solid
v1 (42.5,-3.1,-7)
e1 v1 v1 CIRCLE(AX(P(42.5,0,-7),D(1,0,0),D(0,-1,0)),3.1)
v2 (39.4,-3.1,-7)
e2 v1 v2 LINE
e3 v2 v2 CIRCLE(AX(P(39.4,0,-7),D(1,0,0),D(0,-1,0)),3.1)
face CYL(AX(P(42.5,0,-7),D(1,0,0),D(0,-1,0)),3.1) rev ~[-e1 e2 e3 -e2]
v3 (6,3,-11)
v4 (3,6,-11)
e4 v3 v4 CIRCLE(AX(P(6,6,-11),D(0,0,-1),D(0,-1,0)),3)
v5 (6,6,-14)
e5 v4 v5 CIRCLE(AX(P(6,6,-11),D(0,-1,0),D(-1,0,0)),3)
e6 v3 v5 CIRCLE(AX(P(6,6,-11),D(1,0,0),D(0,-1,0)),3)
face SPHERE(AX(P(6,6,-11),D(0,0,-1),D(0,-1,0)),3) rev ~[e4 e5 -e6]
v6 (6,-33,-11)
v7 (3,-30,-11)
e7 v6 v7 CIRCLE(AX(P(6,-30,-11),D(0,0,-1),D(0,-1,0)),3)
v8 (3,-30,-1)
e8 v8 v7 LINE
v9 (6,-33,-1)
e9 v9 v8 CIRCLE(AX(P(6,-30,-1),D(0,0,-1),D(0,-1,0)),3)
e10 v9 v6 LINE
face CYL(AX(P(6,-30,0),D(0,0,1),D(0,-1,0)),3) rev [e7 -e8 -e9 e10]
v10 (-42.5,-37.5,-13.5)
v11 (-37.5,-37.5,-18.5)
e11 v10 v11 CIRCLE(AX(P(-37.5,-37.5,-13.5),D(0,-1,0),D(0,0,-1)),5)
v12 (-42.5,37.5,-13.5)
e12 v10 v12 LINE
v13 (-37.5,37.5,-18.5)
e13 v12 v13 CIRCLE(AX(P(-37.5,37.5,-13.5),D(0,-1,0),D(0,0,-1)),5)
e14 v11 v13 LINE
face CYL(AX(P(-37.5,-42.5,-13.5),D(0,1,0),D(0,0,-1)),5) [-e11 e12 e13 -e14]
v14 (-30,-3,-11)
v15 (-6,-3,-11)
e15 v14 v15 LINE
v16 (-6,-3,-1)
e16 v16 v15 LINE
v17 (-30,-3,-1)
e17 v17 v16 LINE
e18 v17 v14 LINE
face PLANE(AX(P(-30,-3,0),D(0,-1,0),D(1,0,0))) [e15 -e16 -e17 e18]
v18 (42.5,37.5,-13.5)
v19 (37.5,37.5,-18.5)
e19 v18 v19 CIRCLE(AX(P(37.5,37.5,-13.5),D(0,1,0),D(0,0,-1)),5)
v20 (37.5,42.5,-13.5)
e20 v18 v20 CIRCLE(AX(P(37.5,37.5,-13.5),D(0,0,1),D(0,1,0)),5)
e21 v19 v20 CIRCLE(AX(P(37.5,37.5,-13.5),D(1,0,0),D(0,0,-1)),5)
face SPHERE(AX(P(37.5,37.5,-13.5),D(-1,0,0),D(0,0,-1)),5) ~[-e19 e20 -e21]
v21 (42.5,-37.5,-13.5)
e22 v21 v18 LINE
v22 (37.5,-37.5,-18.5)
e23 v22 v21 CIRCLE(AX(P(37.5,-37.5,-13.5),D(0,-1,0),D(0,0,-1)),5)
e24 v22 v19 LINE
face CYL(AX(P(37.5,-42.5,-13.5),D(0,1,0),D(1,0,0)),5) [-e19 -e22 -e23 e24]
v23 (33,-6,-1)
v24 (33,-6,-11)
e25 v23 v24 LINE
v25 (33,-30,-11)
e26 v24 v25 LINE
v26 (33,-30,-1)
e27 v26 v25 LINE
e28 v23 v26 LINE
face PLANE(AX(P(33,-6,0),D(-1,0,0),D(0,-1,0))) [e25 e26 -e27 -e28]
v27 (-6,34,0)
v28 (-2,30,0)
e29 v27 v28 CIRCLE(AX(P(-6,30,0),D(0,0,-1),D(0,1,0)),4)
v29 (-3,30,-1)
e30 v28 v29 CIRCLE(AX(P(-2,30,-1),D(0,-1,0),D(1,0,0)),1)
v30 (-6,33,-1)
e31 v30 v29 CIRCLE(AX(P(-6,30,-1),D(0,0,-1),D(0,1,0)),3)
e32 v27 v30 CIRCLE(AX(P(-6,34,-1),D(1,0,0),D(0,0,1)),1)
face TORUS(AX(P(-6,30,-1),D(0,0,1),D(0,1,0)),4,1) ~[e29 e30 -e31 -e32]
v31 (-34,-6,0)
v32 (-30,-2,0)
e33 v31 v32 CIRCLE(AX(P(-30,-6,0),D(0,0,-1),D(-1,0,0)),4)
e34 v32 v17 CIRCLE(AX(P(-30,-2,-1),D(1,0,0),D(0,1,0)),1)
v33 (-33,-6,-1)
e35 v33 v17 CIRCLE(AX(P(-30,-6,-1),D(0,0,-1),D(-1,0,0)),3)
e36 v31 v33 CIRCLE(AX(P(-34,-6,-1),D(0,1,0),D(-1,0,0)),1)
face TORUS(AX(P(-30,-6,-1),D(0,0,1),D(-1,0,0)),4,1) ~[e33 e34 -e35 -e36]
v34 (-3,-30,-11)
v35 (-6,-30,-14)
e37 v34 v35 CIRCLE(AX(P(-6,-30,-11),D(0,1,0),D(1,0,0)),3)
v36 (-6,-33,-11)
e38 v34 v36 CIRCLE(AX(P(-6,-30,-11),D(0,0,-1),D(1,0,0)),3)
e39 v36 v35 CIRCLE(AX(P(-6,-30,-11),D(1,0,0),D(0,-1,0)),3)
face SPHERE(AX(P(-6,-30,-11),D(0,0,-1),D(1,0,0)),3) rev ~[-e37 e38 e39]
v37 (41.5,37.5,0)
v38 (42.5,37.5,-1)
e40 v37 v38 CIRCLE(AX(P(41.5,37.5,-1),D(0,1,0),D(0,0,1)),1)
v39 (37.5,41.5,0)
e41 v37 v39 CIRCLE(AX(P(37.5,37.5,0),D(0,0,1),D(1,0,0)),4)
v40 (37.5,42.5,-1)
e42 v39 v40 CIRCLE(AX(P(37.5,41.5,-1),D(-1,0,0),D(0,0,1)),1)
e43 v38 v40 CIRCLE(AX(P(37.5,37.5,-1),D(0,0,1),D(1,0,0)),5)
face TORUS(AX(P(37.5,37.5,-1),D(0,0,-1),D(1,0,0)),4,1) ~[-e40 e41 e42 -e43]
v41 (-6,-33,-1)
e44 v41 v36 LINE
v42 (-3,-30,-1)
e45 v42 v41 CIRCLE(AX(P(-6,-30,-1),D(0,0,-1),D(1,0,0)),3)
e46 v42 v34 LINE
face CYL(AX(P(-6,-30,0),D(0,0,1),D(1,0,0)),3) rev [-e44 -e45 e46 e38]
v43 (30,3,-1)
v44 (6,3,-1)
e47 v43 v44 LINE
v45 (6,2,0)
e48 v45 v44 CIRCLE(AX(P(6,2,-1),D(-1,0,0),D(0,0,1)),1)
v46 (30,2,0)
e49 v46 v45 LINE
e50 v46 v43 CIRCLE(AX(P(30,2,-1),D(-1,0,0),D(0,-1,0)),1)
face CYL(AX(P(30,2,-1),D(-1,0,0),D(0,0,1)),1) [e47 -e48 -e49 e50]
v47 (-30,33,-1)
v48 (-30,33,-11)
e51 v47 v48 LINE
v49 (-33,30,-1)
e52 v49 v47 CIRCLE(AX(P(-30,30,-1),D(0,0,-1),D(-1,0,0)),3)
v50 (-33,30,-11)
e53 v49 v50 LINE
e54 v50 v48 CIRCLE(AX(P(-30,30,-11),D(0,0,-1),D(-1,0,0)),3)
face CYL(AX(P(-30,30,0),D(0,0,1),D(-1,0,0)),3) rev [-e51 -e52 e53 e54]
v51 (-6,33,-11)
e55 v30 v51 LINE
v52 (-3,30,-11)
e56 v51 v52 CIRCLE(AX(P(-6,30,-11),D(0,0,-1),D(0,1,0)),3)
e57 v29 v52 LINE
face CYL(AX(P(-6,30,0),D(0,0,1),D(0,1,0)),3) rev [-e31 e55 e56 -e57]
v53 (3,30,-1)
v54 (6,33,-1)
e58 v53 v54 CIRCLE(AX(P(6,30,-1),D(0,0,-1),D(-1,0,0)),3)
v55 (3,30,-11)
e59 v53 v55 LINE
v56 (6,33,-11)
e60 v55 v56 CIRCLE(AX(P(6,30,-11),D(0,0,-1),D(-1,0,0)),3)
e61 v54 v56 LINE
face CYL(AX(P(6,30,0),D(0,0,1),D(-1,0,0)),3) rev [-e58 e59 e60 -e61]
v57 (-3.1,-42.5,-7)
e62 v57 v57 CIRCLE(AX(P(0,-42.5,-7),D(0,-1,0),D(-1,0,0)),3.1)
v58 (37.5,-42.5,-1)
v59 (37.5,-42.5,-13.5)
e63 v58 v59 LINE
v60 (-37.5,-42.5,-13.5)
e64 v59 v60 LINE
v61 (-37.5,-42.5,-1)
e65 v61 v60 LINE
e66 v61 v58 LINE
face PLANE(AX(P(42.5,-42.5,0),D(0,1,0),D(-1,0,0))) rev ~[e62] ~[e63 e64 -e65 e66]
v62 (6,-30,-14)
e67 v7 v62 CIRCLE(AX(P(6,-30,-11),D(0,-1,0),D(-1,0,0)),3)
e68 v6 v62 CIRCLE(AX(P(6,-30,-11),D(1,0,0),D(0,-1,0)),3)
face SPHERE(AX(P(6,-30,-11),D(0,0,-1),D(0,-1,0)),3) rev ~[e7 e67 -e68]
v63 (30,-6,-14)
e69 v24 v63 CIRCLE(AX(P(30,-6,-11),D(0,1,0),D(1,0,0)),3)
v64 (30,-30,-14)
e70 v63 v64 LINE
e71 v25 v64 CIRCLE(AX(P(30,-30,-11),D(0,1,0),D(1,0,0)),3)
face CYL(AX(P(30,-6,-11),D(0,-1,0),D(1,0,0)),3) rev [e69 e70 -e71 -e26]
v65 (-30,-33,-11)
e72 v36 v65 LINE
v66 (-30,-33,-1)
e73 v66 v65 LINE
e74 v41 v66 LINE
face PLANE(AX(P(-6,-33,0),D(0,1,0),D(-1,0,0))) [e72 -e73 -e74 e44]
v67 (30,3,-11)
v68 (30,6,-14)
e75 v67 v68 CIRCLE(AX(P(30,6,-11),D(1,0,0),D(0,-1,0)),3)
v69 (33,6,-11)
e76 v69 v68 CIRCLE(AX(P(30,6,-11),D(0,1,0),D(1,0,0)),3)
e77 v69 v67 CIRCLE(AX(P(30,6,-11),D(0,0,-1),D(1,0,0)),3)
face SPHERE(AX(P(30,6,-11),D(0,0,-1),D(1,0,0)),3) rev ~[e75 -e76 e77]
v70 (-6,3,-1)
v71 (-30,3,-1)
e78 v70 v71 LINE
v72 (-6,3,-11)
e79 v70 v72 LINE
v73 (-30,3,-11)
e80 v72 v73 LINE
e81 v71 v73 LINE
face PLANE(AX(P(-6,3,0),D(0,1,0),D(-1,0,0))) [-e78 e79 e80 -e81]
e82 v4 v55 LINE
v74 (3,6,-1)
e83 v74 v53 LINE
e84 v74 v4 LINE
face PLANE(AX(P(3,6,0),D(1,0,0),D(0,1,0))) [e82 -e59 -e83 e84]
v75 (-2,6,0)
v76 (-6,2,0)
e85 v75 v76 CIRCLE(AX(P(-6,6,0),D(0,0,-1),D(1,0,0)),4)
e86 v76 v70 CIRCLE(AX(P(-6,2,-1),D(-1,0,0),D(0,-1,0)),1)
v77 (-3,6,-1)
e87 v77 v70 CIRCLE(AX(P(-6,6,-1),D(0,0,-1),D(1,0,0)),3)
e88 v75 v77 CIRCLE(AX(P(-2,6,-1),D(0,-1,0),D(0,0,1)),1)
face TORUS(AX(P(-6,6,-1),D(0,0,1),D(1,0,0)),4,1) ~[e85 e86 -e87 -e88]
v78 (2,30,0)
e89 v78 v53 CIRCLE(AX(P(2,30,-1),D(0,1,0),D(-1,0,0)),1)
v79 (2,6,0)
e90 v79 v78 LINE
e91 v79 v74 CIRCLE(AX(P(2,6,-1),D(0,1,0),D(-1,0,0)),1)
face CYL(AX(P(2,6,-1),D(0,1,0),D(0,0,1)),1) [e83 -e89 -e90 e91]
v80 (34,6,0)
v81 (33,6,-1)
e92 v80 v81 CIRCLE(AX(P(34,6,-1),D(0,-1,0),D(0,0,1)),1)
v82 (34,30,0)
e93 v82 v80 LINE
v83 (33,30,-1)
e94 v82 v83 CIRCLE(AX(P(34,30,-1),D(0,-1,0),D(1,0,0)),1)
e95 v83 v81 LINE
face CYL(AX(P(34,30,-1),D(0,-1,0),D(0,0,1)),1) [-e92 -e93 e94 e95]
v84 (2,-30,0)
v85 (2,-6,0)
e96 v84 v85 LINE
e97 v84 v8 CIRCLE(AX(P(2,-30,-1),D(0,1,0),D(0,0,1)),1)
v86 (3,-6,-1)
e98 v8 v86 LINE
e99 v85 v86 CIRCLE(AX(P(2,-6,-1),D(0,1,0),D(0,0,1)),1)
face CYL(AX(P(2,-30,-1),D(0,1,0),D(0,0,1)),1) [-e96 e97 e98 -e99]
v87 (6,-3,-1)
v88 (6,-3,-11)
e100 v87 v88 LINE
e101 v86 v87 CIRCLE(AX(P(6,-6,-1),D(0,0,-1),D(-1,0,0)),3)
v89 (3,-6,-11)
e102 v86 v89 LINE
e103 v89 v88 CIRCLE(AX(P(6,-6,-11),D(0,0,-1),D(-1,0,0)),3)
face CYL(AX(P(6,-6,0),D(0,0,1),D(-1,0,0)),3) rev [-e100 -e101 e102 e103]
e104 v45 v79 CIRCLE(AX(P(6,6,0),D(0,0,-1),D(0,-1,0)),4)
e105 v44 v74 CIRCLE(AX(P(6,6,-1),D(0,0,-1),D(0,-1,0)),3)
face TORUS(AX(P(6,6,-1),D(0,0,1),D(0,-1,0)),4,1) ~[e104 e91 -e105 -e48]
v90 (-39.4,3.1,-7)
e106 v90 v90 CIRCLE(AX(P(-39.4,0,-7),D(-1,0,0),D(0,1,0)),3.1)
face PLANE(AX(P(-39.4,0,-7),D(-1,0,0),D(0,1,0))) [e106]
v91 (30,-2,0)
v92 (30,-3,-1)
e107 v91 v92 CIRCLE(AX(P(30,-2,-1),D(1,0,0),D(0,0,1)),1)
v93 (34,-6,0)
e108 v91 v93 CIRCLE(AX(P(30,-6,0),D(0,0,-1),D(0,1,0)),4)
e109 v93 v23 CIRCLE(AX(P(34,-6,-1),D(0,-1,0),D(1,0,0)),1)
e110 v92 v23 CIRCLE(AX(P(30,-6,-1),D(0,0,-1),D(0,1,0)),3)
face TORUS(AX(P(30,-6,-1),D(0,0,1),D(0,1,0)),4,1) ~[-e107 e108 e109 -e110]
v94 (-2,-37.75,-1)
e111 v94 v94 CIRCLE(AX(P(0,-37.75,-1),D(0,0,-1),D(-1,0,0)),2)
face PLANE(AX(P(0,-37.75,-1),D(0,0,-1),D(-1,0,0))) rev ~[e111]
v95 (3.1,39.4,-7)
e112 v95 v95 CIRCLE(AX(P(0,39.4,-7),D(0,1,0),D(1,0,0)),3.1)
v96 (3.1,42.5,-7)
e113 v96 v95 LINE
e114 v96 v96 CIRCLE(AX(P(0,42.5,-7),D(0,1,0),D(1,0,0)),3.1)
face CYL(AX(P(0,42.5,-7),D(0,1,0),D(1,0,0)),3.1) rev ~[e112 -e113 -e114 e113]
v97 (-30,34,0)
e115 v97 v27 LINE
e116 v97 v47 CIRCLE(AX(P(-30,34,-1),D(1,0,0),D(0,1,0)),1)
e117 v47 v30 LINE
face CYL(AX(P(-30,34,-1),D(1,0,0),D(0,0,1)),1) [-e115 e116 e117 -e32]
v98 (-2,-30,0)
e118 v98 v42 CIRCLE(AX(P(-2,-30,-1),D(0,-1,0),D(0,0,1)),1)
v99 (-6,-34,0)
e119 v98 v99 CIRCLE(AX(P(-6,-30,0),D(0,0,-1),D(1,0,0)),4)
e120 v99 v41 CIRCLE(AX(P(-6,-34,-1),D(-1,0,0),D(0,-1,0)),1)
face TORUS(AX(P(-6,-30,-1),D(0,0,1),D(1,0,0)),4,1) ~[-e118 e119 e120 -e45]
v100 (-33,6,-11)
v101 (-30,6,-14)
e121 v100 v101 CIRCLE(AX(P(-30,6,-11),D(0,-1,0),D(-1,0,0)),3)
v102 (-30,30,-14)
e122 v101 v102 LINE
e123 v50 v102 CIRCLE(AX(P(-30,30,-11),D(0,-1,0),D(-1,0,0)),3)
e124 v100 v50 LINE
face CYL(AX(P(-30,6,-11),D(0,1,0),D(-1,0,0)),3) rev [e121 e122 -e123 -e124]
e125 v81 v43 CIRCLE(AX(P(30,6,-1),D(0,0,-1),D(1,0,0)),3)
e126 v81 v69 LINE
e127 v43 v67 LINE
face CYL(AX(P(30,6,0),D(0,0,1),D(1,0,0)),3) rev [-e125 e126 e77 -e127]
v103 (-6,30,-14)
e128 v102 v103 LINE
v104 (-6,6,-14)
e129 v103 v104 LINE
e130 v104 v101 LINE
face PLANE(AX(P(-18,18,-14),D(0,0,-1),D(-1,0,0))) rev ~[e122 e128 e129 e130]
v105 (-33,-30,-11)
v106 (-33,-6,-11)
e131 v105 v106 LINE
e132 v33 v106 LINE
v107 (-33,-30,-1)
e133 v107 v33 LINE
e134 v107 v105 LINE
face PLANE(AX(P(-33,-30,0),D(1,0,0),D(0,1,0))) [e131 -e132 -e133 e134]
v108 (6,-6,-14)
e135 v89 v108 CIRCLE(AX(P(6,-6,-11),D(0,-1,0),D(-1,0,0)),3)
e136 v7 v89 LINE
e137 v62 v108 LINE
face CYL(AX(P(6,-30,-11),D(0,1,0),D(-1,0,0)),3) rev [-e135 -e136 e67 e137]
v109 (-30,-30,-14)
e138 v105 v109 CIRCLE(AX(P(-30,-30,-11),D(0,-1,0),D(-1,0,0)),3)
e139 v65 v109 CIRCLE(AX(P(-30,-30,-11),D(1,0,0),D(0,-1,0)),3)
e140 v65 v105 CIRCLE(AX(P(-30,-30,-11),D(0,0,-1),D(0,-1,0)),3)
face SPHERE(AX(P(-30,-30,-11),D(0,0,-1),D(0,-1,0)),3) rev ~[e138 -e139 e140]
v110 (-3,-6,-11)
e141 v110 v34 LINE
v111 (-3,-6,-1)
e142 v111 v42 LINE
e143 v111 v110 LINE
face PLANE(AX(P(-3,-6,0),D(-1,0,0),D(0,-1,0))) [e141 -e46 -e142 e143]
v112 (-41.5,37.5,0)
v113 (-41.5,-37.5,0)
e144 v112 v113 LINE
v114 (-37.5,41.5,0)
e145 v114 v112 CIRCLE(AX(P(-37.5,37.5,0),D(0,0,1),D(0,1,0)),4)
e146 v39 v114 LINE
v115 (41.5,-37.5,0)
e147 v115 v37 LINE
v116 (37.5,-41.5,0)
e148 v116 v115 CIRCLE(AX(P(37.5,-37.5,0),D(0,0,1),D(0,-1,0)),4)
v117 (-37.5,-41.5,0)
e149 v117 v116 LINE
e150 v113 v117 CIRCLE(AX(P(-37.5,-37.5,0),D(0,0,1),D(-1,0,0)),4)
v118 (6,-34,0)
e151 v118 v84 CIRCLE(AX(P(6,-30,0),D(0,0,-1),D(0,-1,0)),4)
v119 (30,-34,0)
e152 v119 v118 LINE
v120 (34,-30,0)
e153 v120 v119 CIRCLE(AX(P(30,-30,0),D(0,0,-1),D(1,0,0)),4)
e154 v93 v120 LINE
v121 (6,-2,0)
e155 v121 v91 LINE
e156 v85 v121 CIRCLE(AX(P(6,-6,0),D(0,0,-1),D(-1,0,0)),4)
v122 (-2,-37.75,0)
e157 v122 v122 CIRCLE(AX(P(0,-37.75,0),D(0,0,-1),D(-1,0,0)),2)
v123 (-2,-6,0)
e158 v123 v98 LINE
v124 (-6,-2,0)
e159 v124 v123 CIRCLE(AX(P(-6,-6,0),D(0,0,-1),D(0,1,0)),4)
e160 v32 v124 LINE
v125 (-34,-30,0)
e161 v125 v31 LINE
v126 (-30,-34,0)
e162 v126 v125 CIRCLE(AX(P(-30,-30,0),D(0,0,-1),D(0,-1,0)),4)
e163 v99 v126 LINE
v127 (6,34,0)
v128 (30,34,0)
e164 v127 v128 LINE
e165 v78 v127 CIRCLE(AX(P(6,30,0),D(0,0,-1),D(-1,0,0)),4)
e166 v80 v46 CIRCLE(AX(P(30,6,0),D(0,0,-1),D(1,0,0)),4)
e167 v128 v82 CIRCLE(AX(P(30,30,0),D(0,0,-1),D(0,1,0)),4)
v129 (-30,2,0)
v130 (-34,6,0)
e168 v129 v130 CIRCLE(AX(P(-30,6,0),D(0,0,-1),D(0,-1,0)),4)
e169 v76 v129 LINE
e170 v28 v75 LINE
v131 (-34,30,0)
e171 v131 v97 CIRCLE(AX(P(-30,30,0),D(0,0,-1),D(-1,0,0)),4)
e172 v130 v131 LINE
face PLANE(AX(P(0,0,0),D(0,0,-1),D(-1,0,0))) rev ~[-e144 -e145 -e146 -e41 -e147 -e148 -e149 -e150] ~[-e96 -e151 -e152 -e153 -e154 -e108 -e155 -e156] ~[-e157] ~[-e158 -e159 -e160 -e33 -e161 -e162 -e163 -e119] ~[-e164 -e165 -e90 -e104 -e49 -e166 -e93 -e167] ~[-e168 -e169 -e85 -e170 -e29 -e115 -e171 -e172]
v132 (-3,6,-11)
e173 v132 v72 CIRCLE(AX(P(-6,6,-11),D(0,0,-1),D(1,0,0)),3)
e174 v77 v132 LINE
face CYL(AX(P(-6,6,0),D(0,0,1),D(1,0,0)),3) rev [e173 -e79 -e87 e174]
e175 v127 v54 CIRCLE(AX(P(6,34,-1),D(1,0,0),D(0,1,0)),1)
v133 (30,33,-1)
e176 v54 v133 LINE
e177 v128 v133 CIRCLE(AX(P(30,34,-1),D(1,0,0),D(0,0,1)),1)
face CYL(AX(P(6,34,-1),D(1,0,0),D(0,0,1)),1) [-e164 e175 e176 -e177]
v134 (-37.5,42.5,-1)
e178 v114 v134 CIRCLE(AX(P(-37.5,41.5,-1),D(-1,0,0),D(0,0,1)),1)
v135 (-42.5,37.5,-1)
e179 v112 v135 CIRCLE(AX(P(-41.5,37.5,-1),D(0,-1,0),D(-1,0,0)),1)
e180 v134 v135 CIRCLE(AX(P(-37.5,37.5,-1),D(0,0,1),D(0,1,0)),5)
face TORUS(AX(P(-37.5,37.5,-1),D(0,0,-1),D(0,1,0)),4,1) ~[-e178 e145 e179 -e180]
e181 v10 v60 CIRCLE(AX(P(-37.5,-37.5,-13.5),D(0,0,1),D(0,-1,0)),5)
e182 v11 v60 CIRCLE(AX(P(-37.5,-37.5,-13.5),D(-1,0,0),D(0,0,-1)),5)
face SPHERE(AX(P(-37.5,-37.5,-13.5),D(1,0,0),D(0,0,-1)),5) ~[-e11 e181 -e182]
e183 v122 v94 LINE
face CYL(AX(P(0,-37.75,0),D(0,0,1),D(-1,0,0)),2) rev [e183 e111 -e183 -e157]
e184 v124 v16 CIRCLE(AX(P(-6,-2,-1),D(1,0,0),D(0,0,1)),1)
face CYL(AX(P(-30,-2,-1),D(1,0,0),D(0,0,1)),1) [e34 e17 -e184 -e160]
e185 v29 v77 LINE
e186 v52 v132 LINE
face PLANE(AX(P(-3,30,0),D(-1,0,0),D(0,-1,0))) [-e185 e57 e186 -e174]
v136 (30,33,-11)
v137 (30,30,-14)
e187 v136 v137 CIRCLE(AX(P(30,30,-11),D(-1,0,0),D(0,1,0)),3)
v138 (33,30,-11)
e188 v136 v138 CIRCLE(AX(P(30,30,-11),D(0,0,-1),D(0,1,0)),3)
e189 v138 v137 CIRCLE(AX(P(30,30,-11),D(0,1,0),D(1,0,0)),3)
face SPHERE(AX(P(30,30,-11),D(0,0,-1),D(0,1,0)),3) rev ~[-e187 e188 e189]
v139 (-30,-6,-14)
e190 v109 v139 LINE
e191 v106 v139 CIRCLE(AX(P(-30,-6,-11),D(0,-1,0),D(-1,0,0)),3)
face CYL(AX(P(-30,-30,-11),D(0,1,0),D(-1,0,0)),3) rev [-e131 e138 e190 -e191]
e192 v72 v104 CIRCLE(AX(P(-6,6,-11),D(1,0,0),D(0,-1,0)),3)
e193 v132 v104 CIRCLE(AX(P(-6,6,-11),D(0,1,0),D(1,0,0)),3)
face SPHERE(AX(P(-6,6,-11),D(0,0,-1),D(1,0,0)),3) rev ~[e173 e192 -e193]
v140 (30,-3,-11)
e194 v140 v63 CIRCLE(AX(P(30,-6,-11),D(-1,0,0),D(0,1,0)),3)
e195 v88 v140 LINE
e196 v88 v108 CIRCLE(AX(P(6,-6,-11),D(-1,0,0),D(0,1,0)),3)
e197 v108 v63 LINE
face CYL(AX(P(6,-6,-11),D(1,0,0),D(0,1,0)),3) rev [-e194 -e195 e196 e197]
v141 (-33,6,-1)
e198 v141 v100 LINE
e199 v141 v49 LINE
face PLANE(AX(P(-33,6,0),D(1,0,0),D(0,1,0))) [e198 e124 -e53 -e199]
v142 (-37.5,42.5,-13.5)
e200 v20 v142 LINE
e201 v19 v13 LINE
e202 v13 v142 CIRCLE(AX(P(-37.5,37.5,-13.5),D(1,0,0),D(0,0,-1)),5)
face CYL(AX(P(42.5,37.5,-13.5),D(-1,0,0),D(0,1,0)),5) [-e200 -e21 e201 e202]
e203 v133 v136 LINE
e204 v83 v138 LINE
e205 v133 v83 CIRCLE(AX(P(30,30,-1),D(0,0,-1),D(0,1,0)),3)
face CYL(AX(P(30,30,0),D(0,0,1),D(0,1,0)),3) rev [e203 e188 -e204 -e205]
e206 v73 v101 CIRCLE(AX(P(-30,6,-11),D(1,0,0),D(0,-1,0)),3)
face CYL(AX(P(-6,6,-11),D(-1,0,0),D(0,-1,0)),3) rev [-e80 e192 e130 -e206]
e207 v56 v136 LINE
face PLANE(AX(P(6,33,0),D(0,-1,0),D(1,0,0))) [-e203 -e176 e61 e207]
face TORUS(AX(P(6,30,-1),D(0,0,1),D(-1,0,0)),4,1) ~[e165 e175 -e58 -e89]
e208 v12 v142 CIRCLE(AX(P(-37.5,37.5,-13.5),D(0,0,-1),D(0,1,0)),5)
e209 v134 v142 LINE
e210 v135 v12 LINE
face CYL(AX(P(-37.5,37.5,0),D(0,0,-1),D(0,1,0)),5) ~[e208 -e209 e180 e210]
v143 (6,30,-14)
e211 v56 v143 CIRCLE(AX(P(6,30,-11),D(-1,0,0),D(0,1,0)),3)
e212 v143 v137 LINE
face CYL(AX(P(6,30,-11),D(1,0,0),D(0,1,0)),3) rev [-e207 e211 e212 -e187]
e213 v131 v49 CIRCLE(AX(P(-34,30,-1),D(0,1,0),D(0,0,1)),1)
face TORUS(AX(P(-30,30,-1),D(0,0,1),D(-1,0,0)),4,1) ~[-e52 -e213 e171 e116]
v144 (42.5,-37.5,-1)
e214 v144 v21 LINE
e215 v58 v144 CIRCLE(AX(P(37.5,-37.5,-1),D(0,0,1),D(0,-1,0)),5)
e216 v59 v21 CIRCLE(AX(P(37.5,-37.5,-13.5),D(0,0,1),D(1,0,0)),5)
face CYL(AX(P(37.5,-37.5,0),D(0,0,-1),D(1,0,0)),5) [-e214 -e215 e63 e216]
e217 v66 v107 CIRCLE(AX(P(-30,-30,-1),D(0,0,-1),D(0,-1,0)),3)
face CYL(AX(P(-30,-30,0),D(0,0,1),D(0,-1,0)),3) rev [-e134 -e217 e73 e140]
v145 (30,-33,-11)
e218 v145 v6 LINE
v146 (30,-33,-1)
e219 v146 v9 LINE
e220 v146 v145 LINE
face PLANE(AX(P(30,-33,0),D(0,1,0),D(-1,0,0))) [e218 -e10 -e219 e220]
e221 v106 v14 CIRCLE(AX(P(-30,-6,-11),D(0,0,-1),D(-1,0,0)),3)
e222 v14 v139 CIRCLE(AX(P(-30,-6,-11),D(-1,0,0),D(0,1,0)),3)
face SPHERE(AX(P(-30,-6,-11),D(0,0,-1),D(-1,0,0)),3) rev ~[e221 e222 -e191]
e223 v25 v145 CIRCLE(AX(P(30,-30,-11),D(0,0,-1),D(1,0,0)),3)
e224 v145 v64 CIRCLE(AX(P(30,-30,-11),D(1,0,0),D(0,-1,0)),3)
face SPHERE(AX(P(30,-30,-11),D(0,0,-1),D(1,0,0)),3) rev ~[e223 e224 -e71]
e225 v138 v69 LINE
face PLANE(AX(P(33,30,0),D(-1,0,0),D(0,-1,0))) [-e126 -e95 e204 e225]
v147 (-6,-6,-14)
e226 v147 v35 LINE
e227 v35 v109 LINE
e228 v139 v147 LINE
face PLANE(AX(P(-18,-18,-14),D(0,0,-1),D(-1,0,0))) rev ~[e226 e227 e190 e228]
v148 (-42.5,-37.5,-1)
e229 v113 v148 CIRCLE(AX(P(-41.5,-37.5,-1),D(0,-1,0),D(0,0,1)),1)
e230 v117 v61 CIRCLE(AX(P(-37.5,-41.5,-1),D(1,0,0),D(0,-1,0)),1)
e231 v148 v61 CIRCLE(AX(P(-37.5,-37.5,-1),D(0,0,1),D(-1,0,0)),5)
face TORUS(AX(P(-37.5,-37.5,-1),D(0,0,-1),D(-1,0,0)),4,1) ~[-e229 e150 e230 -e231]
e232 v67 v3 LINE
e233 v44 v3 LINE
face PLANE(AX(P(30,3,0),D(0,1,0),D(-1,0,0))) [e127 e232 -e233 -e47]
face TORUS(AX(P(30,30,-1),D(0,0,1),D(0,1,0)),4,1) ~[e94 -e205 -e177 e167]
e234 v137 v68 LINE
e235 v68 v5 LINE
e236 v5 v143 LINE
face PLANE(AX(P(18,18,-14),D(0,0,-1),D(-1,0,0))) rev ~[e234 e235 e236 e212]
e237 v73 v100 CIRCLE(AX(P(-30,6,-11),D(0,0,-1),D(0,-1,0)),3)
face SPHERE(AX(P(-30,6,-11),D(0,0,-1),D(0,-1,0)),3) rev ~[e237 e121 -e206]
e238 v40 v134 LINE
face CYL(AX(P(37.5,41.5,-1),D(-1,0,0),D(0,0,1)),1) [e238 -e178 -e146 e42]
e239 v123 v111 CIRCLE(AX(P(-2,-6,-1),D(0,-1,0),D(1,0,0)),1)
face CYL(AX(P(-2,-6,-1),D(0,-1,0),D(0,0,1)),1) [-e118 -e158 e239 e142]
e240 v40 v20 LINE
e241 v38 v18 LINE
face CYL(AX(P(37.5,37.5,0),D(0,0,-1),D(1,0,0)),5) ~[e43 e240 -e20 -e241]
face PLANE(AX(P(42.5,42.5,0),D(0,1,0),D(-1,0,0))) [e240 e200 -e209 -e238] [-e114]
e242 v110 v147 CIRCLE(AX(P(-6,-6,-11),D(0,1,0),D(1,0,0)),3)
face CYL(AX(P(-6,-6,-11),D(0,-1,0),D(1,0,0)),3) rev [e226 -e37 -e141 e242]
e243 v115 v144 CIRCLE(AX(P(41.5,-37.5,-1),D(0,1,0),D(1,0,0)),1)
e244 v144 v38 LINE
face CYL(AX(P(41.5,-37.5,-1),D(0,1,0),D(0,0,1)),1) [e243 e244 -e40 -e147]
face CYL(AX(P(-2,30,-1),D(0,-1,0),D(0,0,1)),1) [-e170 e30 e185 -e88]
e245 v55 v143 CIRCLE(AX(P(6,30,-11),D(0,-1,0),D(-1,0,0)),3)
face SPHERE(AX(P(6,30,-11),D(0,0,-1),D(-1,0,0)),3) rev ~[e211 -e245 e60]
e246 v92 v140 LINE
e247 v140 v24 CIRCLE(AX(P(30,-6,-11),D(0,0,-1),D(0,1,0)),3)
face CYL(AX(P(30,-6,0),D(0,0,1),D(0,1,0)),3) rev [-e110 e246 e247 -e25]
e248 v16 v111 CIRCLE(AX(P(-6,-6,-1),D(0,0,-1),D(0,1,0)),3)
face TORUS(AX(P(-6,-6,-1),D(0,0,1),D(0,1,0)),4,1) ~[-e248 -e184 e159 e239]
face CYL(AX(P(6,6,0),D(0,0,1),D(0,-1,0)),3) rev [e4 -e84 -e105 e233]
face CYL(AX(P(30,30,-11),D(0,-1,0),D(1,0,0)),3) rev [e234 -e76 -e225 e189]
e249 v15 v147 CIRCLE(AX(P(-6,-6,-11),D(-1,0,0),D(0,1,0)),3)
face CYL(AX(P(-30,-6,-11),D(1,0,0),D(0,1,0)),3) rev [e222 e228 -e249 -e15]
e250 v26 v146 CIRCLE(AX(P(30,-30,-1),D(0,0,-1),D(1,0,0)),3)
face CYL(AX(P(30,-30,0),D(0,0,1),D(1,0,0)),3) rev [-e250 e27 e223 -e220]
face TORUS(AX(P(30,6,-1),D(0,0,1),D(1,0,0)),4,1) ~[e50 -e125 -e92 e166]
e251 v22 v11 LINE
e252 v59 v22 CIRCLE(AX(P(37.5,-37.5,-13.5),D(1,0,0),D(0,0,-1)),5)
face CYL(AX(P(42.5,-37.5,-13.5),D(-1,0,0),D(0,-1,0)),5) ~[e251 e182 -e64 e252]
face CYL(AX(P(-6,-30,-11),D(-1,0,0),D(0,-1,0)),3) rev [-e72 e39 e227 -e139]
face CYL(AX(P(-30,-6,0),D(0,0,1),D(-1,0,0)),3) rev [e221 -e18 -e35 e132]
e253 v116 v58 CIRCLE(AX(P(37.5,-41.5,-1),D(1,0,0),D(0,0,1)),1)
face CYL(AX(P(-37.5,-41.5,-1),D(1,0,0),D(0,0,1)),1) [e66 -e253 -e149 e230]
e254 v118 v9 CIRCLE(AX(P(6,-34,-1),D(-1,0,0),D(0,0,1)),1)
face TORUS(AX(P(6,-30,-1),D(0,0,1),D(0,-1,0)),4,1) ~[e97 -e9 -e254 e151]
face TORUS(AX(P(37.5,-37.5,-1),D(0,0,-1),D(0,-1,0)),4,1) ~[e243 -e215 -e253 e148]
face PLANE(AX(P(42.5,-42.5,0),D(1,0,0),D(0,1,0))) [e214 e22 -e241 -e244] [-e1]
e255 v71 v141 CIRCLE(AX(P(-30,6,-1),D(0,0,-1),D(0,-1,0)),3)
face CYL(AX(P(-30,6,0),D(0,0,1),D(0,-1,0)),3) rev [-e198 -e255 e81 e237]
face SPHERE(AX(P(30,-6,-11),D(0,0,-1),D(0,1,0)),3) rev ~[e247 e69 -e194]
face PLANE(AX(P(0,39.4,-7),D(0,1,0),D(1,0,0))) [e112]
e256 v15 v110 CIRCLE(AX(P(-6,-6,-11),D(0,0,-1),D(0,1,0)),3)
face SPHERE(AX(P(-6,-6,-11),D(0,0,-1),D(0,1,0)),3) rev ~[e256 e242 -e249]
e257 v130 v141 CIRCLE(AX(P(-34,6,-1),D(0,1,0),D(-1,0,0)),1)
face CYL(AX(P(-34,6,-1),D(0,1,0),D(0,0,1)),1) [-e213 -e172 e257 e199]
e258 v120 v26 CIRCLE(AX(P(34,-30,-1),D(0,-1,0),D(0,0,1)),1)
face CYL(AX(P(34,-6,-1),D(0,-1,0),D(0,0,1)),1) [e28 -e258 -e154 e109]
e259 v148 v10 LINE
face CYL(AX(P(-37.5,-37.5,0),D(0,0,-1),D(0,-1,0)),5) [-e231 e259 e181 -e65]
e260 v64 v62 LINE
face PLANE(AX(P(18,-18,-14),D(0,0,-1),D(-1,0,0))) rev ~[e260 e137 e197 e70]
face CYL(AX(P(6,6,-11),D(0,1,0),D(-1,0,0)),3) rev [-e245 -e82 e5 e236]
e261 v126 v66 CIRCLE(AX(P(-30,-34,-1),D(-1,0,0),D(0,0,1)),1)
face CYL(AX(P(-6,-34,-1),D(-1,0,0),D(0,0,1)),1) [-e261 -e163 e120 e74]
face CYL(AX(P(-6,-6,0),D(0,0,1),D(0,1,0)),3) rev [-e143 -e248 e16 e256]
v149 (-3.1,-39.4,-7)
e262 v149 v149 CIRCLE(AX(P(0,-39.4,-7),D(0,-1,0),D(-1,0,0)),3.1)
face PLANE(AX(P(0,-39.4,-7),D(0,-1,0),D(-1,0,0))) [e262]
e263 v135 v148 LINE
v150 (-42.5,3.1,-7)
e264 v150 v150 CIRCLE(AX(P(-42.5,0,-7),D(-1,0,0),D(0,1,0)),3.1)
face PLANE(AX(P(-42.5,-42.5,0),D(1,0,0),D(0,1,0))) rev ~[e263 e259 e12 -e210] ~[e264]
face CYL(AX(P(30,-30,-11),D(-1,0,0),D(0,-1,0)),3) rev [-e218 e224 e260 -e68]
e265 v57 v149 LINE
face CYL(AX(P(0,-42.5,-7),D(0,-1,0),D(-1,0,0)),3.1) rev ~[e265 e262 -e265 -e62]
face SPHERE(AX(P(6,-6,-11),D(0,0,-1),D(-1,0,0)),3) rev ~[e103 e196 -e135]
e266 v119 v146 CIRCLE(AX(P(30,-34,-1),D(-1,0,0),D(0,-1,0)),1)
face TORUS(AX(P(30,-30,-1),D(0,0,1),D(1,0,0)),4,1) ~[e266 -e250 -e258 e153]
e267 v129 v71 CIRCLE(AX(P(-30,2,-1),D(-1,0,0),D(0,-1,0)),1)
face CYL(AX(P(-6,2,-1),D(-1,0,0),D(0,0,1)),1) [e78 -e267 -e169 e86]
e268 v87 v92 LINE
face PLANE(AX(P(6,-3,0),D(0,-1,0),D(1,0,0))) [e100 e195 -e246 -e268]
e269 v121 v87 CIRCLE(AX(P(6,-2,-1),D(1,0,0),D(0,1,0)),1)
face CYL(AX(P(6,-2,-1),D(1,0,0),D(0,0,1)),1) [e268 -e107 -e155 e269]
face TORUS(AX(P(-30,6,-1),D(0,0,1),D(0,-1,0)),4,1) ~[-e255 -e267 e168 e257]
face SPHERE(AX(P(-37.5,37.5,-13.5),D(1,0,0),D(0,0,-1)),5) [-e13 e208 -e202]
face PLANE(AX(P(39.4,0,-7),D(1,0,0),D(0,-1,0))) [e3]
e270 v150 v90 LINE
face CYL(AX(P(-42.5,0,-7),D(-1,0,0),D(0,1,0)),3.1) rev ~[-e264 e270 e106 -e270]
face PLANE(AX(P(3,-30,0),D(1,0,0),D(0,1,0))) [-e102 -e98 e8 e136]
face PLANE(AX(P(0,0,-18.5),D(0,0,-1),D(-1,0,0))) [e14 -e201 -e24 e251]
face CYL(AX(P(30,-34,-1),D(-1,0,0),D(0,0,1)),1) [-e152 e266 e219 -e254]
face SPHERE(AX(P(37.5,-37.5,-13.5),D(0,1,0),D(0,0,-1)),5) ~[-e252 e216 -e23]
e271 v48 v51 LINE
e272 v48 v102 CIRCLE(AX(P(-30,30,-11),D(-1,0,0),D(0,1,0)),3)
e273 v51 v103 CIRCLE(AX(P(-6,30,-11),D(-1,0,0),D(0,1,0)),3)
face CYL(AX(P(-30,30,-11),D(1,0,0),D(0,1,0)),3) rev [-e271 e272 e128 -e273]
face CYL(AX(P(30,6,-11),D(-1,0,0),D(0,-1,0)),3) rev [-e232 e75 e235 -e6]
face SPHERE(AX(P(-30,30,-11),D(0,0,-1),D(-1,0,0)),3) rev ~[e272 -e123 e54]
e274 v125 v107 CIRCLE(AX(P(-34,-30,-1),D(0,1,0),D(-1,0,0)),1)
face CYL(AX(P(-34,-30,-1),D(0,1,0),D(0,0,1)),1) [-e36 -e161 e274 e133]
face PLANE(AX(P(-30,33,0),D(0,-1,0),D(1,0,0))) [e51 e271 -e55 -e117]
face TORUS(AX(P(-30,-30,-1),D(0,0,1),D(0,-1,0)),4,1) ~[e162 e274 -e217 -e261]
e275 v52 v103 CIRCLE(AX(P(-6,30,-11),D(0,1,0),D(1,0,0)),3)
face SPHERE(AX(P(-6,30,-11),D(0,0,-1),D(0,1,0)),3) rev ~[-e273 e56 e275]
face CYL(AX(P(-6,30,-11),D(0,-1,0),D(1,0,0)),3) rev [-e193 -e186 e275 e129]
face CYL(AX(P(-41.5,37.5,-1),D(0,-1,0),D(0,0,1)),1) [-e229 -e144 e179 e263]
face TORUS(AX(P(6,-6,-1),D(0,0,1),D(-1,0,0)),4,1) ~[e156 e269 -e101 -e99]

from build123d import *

# Parameters (mm, degrees)
F0_W      = 85
F0_H      = 85
F0_R      = 2
F3_DEPTH  = 18.5
F4_DEPTH  = 14
F5_R      = 5
F6_R      = 3
F7_R      = 1
F8_R      = 3.1
F9_DEPTH  = 3.1
F10_R     = 3.1
F11_DEPTH = 3.1
F12_R     = 3.1
F13_DEPTH = 3.1
F14_R     = 3.1
F15_DEPTH = 3.1
F16_DEPTH = 1
F17_ANGLE = 180


with BuildPart() as f3:
    # F0 (on Top) → F3 (new body)
    with BuildSketch(Plane.XY):
        Rectangle(F0_W, F0_H)
        with BuildLine():
            ThreePointArc((-33, -6), (-32.1213203436, -3.8786796564), (-30, -3))
            Line((-30, -3), (-6, -3))
            ThreePointArc((-6, -3), (-3.8786796564, -3.8786796564), (-3, -6))
            Line((-3, -6), (-3, -30))
            ThreePointArc((-3, -30), (-3.8786796564, -32.1213203436), (-6, -33))
            Line((-6, -33), (-30, -33))
            ThreePointArc((-30, -33), (-32.1213203436, -32.1213203436), (-33, -30))
            Line((-33, -30), (-33, -6))
        make_face(mode=Mode.SUBTRACT)
        with Locations((0, -37.75)):
            Circle(F0_R, mode=Mode.SUBTRACT)
        with BuildLine():
            Line((6, -3), (30, -3))
            ThreePointArc((30, -3), (32.1213203436, -3.8786796564), (33, -6))
            Line((33, -6), (33, -30))
            ThreePointArc((33, -30), (32.1213203436, -32.1213203436), (30, -33))
            Line((30, -33), (6, -33))
            ThreePointArc((6, -33), (3.8786796564, -32.1213203436), (3, -30))
            Line((3, -30), (3, -6))
            ThreePointArc((3, -6), (3.8786796564, -3.8786796564), (6, -3))
        make_face(mode=Mode.SUBTRACT)
        with BuildLine():
            ThreePointArc((-33, 30), (-32.1213203436, 32.1213203436), (-30, 33))
            Line((-30, 33), (-6, 33))
            ThreePointArc((-6, 33), (-3.8786796564, 32.1213203436), (-3, 30))
            Line((-3, 30), (-3, 6))
            ThreePointArc((-3, 6), (-3.8786796564, 3.8786796564), (-6, 3))
            Line((-6, 3), (-30, 3))
            ThreePointArc((-30, 3), (-32.1213203436, 3.8786796564), (-33, 6))
            Line((-33, 6), (-33, 30))
        make_face(mode=Mode.SUBTRACT)
        with BuildLine():
            ThreePointArc((30, 33), (32.1213203436, 32.1213203436), (33, 30))
            Line((33, 30), (33, 6))
            ThreePointArc((33, 6), (32.1213203436, 3.8786796564), (30, 3))
            Line((30, 3), (6, 3))
            ThreePointArc((6, 3), (3.8786796564, 3.8786796564), (3, 6))
            Line((3, 6), (3, 30))
            ThreePointArc((3, 30), (3.8786796564, 32.1213203436), (6, 33))
            Line((6, 33), (30, 33))
        make_face(mode=Mode.SUBTRACT)
        with BuildLine():
            Line((-6, 33), (-30, 33))
            ThreePointArc((-30, 33), (-32.1213203436, 32.1213203436), (-33, 30))
            Line((-33, 30), (-33, 6))
            ThreePointArc((-33, 6), (-32.1213203436, 3.8786796564), (-30, 3))
            Line((-30, 3), (-6, 3))
            ThreePointArc((-6, 3), (-3.8786796564, 3.8786796564), (-3, 6))
            Line((-3, 6), (-3, 30))
            ThreePointArc((-3, 30), (-3.8786796564, 32.1213203436), (-6, 33))
        make_face()
        with BuildLine():
            Line((33, 6), (33, 30))
            ThreePointArc((33, 30), (32.1213203436, 32.1213203436), (30, 33))
            Line((30, 33), (6, 33))
            ThreePointArc((6, 33), (3.8786796564, 32.1213203436), (3, 30))
            Line((3, 30), (3, 6))
            ThreePointArc((3, 6), (3.8786796564, 3.8786796564), (6, 3))
            Line((6, 3), (30, 3))
            ThreePointArc((30, 3), (32.1213203436, 3.8786796564), (33, 6))
        make_face()
        with BuildLine():
            ThreePointArc((33, -6), (32.1213203436, -3.8786796564), (30, -3))
            Line((30, -3), (6, -3))
            ThreePointArc((6, -3), (3.8786796564, -3.8786796564), (3, -6))
            Line((3, -6), (3, -30))
            ThreePointArc((3, -30), (3.8786796564, -32.1213203436), (6, -33))
            Line((6, -33), (30, -33))
            ThreePointArc((30, -33), (32.1213203436, -32.1213203436), (33, -30))
            Line((33, -30), (33, -6))
        make_face()
        with BuildLine():
            Line((-6, -3), (-30, -3))
            ThreePointArc((-30, -3), (-32.1213203436, -3.8786796564), (-33, -6))
            Line((-33, -6), (-33, -30))
            ThreePointArc((-33, -30), (-32.1213203436, -32.1213203436), (-30, -33))
            Line((-30, -33), (-6, -33))
            ThreePointArc((-6, -33), (-3.8786796564, -32.1213203436), (-3, -30))
            Line((-3, -30), (-3, -6))
            ThreePointArc((-3, -6), (-3.8786796564, -3.8786796564), (-6, -3))
        make_face()
        with Locations((0, -37.75)):
            Circle(F0_R)
    extrude(amount=F3_DEPTH)

    # F0 (on Top) → F4 (cut)
    with BuildSketch(Plane.XY):
        with BuildLine():
            Line((-6, 33), (-30, 33))
            ThreePointArc((-30, 33), (-32.1213203436, 32.1213203436), (-33, 30))
            Line((-33, 30), (-33, 6))
            ThreePointArc((-33, 6), (-32.1213203436, 3.8786796564), (-30, 3))
            Line((-30, 3), (-6, 3))
            ThreePointArc((-6, 3), (-3.8786796564, 3.8786796564), (-3, 6))
            Line((-3, 6), (-3, 30))
            ThreePointArc((-3, 30), (-3.8786796564, 32.1213203436), (-6, 33))
        make_face()
        with BuildLine():
            Line((-6, -3), (-30, -3))
            ThreePointArc((-30, -3), (-32.1213203436, -3.8786796564), (-33, -6))
            Line((-33, -6), (-33, -30))
            ThreePointArc((-33, -30), (-32.1213203436, -32.1213203436), (-30, -33))
            Line((-30, -33), (-6, -33))
            ThreePointArc((-6, -33), (-3.8786796564, -32.1213203436), (-3, -30))
            Line((-3, -30), (-3, -6))
            ThreePointArc((-3, -6), (-3.8786796564, -3.8786796564), (-6, -3))
        make_face()
        with BuildLine():
            ThreePointArc((33, -6), (32.1213203436, -3.8786796564), (30, -3))
            Line((30, -3), (6, -3))
            ThreePointArc((6, -3), (3.8786796564, -3.8786796564), (3, -6))
            Line((3, -6), (3, -30))
            ThreePointArc((3, -30), (3.8786796564, -32.1213203436), (6, -33))
            Line((6, -33), (30, -33))
            ThreePointArc((30, -33), (32.1213203436, -32.1213203436), (33, -30))
            Line((33, -30), (33, -6))
        make_face()
        with BuildLine():
            Line((33, 6), (33, 30))
            ThreePointArc((33, 30), (32.1213203436, 32.1213203436), (30, 33))
            Line((30, 33), (6, 33))
            ThreePointArc((6, 33), (3.8786796564, 32.1213203436), (3, 30))
            Line((3, 30), (3, 6))
            ThreePointArc((3, 6), (3.8786796564, 3.8786796564), (6, 3))
            Line((6, 3), (30, 3))
            ThreePointArc((30, 3), (32.1213203436, 3.8786796564), (33, 6))
        make_face()
    extrude(amount=F4_DEPTH, mode=Mode.SUBTRACT)

    # F5
    f5_edges = [f3.edges().sort_by_distance(p)[0] for p in [
        (0, 42.5, 18.5),
        (-42.5, 0, 18.5),
        (0, -42.5, 18.5),
        (42.5, 0, 18.5),
        (42.5, 42.5, 9.25),
        (-42.5, 42.5, 9.25),
        (-42.5, -42.5, 9.25),
        (42.5, -42.5, 9.25),
    ]]
    fillet(f5_edges, radius=F5_R)

    # F6
    f6_edges = [f3.edges().sort_by_distance(p)[0] for p in [
        (-3.87868, 32.12132, 14),
        (-18, 33, 14),
        (-32.12132, 32.12132, 14),
        (-33, 18, 14),
        (-32.12132, 3.87868, 14),
        (-18, 3, 14),
        (-3.87868, 3.87868, 14),
        (-3, 18, 14),
        (-3, -18, 14),
        (-3.87868, -3.87868, 14),
        (-18, -3, 14),
        (-32.12132, -3.87868, 14),
        (-33, -18, 14),
        (-32.12132, -32.12132, 14),
        (-18, -33, 14),
        (-3.87868, -32.12132, 14),
        (32.12132, -3.87868, 14),
        (18, -3, 14),
        (3.87868, -3.87868, 14),
        (3, -18, 14),
        (3.87868, -32.12132, 14),
        (18, -33, 14),
        (32.12132, -32.12132, 14),
        (33, -18, 14),
        (32.12132, 3.87868, 14),
        (33, 18, 14),
        (32.12132, 32.12132, 14),
        (18, 33, 14),
        (3.87868, 32.12132, 14),
        (3, 18, 14),
        (3.87868, 3.87868, 14),
        (18, 3, 14),
    ]]
    fillet(f6_edges, radius=F6_R)

    # F7
    f7_edges = [f3.edges().sort_by_distance(p)[0] for p in [
        (0, 42.5, 0),
        (41.035534, 41.035534, 0),
        (-41.035534, 41.035534, 0),
        (42.5, 0, 0),
        (-42.5, 0, 0),
        (41.035534, -41.035534, 0),
        (-41.035534, -41.035534, 0),
        (0, -42.5, 0),
        (-3, -18, 0),
        (-3.87868, -3.87868, 0),
        (-18, -3, 0),
        (-32.12132, -3.87868, 0),
        (-33, -18, 0),
        (-32.12132, -32.12132, 0),
        (-18, -33, 0),
        (-3.87868, -32.12132, 0),
        (32.12132, -3.87868, 0),
        (18, -3, 0),
        (3.87868, -3.87868, 0),
        (3, -18, 0),
        (3.87868, -32.12132, 0),
        (18, -33, 0),
        (32.12132, -32.12132, 0),
        (33, -18, 0),
        (-3.87868, 32.12132, 0),
        (-18, 33, 0),
        (-32.12132, 32.12132, 0),
        (-33, 18, 0),
        (-32.12132, 3.87868, 0),
        (-18, 3, 0),
        (-3.87868, 3.87868, 0),
        (-3, 18, 0),
        (32.12132, 3.87868, 0),
        (33, 18, 0),
        (32.12132, 32.12132, 0),
        (18, 33, 0),
        (3.87868, 32.12132, 0),
        (3, 18, 0),
        (3.87868, 3.87868, 0),
        (18, 3, 0),
    ]]
    fillet(f7_edges, radius=F7_R)

    # F8 (on face) → F9 (cut)
    with BuildSketch(Plane.XZ.offset(42.5)):
        with Locations((0, 7)):
            Circle(F8_R)
    extrude(amount=-F9_DEPTH, mode=Mode.SUBTRACT)

    # F10 (on face) → F11 (cut)
    with BuildSketch(Plane(origin=(0, 42.5, 0), x_dir=(-1, 0, 0), z_dir=(0, 1, 0))):
        with Locations((0, 7)):
            Circle(F10_R)
    extrude(amount=-F11_DEPTH, mode=Mode.SUBTRACT)

    # F12 (on face) → F13 (cut)
    with BuildSketch(Plane(origin=(-42.5, 0, 0), x_dir=(0, -1, 0), z_dir=(-1, 0, 0))):
        with Locations((0, 7)):
            Circle(F12_R)
    extrude(amount=-F13_DEPTH, mode=Mode.SUBTRACT)

    # F14 (on face) → F15 (cut)
    with BuildSketch(Plane.YZ.offset(42.5)):
        with Locations((0, 7)):
            Circle(F14_R)
    extrude(amount=-F15_DEPTH, mode=Mode.SUBTRACT)

    # F0 (on Top) → F16 (cut)
    with BuildSketch(Plane.XY):
        with Locations((0, -37.75)):
            Circle(F0_R)
    extrude(amount=F16_DEPTH, mode=Mode.SUBTRACT)


with BuildPart() as f3_1:
    # F17: moved
    add(f3.part.rotate(Axis((0, 0, 0), (0, 1, 0)), F17_ANGLE))


solid = f3_1.part
